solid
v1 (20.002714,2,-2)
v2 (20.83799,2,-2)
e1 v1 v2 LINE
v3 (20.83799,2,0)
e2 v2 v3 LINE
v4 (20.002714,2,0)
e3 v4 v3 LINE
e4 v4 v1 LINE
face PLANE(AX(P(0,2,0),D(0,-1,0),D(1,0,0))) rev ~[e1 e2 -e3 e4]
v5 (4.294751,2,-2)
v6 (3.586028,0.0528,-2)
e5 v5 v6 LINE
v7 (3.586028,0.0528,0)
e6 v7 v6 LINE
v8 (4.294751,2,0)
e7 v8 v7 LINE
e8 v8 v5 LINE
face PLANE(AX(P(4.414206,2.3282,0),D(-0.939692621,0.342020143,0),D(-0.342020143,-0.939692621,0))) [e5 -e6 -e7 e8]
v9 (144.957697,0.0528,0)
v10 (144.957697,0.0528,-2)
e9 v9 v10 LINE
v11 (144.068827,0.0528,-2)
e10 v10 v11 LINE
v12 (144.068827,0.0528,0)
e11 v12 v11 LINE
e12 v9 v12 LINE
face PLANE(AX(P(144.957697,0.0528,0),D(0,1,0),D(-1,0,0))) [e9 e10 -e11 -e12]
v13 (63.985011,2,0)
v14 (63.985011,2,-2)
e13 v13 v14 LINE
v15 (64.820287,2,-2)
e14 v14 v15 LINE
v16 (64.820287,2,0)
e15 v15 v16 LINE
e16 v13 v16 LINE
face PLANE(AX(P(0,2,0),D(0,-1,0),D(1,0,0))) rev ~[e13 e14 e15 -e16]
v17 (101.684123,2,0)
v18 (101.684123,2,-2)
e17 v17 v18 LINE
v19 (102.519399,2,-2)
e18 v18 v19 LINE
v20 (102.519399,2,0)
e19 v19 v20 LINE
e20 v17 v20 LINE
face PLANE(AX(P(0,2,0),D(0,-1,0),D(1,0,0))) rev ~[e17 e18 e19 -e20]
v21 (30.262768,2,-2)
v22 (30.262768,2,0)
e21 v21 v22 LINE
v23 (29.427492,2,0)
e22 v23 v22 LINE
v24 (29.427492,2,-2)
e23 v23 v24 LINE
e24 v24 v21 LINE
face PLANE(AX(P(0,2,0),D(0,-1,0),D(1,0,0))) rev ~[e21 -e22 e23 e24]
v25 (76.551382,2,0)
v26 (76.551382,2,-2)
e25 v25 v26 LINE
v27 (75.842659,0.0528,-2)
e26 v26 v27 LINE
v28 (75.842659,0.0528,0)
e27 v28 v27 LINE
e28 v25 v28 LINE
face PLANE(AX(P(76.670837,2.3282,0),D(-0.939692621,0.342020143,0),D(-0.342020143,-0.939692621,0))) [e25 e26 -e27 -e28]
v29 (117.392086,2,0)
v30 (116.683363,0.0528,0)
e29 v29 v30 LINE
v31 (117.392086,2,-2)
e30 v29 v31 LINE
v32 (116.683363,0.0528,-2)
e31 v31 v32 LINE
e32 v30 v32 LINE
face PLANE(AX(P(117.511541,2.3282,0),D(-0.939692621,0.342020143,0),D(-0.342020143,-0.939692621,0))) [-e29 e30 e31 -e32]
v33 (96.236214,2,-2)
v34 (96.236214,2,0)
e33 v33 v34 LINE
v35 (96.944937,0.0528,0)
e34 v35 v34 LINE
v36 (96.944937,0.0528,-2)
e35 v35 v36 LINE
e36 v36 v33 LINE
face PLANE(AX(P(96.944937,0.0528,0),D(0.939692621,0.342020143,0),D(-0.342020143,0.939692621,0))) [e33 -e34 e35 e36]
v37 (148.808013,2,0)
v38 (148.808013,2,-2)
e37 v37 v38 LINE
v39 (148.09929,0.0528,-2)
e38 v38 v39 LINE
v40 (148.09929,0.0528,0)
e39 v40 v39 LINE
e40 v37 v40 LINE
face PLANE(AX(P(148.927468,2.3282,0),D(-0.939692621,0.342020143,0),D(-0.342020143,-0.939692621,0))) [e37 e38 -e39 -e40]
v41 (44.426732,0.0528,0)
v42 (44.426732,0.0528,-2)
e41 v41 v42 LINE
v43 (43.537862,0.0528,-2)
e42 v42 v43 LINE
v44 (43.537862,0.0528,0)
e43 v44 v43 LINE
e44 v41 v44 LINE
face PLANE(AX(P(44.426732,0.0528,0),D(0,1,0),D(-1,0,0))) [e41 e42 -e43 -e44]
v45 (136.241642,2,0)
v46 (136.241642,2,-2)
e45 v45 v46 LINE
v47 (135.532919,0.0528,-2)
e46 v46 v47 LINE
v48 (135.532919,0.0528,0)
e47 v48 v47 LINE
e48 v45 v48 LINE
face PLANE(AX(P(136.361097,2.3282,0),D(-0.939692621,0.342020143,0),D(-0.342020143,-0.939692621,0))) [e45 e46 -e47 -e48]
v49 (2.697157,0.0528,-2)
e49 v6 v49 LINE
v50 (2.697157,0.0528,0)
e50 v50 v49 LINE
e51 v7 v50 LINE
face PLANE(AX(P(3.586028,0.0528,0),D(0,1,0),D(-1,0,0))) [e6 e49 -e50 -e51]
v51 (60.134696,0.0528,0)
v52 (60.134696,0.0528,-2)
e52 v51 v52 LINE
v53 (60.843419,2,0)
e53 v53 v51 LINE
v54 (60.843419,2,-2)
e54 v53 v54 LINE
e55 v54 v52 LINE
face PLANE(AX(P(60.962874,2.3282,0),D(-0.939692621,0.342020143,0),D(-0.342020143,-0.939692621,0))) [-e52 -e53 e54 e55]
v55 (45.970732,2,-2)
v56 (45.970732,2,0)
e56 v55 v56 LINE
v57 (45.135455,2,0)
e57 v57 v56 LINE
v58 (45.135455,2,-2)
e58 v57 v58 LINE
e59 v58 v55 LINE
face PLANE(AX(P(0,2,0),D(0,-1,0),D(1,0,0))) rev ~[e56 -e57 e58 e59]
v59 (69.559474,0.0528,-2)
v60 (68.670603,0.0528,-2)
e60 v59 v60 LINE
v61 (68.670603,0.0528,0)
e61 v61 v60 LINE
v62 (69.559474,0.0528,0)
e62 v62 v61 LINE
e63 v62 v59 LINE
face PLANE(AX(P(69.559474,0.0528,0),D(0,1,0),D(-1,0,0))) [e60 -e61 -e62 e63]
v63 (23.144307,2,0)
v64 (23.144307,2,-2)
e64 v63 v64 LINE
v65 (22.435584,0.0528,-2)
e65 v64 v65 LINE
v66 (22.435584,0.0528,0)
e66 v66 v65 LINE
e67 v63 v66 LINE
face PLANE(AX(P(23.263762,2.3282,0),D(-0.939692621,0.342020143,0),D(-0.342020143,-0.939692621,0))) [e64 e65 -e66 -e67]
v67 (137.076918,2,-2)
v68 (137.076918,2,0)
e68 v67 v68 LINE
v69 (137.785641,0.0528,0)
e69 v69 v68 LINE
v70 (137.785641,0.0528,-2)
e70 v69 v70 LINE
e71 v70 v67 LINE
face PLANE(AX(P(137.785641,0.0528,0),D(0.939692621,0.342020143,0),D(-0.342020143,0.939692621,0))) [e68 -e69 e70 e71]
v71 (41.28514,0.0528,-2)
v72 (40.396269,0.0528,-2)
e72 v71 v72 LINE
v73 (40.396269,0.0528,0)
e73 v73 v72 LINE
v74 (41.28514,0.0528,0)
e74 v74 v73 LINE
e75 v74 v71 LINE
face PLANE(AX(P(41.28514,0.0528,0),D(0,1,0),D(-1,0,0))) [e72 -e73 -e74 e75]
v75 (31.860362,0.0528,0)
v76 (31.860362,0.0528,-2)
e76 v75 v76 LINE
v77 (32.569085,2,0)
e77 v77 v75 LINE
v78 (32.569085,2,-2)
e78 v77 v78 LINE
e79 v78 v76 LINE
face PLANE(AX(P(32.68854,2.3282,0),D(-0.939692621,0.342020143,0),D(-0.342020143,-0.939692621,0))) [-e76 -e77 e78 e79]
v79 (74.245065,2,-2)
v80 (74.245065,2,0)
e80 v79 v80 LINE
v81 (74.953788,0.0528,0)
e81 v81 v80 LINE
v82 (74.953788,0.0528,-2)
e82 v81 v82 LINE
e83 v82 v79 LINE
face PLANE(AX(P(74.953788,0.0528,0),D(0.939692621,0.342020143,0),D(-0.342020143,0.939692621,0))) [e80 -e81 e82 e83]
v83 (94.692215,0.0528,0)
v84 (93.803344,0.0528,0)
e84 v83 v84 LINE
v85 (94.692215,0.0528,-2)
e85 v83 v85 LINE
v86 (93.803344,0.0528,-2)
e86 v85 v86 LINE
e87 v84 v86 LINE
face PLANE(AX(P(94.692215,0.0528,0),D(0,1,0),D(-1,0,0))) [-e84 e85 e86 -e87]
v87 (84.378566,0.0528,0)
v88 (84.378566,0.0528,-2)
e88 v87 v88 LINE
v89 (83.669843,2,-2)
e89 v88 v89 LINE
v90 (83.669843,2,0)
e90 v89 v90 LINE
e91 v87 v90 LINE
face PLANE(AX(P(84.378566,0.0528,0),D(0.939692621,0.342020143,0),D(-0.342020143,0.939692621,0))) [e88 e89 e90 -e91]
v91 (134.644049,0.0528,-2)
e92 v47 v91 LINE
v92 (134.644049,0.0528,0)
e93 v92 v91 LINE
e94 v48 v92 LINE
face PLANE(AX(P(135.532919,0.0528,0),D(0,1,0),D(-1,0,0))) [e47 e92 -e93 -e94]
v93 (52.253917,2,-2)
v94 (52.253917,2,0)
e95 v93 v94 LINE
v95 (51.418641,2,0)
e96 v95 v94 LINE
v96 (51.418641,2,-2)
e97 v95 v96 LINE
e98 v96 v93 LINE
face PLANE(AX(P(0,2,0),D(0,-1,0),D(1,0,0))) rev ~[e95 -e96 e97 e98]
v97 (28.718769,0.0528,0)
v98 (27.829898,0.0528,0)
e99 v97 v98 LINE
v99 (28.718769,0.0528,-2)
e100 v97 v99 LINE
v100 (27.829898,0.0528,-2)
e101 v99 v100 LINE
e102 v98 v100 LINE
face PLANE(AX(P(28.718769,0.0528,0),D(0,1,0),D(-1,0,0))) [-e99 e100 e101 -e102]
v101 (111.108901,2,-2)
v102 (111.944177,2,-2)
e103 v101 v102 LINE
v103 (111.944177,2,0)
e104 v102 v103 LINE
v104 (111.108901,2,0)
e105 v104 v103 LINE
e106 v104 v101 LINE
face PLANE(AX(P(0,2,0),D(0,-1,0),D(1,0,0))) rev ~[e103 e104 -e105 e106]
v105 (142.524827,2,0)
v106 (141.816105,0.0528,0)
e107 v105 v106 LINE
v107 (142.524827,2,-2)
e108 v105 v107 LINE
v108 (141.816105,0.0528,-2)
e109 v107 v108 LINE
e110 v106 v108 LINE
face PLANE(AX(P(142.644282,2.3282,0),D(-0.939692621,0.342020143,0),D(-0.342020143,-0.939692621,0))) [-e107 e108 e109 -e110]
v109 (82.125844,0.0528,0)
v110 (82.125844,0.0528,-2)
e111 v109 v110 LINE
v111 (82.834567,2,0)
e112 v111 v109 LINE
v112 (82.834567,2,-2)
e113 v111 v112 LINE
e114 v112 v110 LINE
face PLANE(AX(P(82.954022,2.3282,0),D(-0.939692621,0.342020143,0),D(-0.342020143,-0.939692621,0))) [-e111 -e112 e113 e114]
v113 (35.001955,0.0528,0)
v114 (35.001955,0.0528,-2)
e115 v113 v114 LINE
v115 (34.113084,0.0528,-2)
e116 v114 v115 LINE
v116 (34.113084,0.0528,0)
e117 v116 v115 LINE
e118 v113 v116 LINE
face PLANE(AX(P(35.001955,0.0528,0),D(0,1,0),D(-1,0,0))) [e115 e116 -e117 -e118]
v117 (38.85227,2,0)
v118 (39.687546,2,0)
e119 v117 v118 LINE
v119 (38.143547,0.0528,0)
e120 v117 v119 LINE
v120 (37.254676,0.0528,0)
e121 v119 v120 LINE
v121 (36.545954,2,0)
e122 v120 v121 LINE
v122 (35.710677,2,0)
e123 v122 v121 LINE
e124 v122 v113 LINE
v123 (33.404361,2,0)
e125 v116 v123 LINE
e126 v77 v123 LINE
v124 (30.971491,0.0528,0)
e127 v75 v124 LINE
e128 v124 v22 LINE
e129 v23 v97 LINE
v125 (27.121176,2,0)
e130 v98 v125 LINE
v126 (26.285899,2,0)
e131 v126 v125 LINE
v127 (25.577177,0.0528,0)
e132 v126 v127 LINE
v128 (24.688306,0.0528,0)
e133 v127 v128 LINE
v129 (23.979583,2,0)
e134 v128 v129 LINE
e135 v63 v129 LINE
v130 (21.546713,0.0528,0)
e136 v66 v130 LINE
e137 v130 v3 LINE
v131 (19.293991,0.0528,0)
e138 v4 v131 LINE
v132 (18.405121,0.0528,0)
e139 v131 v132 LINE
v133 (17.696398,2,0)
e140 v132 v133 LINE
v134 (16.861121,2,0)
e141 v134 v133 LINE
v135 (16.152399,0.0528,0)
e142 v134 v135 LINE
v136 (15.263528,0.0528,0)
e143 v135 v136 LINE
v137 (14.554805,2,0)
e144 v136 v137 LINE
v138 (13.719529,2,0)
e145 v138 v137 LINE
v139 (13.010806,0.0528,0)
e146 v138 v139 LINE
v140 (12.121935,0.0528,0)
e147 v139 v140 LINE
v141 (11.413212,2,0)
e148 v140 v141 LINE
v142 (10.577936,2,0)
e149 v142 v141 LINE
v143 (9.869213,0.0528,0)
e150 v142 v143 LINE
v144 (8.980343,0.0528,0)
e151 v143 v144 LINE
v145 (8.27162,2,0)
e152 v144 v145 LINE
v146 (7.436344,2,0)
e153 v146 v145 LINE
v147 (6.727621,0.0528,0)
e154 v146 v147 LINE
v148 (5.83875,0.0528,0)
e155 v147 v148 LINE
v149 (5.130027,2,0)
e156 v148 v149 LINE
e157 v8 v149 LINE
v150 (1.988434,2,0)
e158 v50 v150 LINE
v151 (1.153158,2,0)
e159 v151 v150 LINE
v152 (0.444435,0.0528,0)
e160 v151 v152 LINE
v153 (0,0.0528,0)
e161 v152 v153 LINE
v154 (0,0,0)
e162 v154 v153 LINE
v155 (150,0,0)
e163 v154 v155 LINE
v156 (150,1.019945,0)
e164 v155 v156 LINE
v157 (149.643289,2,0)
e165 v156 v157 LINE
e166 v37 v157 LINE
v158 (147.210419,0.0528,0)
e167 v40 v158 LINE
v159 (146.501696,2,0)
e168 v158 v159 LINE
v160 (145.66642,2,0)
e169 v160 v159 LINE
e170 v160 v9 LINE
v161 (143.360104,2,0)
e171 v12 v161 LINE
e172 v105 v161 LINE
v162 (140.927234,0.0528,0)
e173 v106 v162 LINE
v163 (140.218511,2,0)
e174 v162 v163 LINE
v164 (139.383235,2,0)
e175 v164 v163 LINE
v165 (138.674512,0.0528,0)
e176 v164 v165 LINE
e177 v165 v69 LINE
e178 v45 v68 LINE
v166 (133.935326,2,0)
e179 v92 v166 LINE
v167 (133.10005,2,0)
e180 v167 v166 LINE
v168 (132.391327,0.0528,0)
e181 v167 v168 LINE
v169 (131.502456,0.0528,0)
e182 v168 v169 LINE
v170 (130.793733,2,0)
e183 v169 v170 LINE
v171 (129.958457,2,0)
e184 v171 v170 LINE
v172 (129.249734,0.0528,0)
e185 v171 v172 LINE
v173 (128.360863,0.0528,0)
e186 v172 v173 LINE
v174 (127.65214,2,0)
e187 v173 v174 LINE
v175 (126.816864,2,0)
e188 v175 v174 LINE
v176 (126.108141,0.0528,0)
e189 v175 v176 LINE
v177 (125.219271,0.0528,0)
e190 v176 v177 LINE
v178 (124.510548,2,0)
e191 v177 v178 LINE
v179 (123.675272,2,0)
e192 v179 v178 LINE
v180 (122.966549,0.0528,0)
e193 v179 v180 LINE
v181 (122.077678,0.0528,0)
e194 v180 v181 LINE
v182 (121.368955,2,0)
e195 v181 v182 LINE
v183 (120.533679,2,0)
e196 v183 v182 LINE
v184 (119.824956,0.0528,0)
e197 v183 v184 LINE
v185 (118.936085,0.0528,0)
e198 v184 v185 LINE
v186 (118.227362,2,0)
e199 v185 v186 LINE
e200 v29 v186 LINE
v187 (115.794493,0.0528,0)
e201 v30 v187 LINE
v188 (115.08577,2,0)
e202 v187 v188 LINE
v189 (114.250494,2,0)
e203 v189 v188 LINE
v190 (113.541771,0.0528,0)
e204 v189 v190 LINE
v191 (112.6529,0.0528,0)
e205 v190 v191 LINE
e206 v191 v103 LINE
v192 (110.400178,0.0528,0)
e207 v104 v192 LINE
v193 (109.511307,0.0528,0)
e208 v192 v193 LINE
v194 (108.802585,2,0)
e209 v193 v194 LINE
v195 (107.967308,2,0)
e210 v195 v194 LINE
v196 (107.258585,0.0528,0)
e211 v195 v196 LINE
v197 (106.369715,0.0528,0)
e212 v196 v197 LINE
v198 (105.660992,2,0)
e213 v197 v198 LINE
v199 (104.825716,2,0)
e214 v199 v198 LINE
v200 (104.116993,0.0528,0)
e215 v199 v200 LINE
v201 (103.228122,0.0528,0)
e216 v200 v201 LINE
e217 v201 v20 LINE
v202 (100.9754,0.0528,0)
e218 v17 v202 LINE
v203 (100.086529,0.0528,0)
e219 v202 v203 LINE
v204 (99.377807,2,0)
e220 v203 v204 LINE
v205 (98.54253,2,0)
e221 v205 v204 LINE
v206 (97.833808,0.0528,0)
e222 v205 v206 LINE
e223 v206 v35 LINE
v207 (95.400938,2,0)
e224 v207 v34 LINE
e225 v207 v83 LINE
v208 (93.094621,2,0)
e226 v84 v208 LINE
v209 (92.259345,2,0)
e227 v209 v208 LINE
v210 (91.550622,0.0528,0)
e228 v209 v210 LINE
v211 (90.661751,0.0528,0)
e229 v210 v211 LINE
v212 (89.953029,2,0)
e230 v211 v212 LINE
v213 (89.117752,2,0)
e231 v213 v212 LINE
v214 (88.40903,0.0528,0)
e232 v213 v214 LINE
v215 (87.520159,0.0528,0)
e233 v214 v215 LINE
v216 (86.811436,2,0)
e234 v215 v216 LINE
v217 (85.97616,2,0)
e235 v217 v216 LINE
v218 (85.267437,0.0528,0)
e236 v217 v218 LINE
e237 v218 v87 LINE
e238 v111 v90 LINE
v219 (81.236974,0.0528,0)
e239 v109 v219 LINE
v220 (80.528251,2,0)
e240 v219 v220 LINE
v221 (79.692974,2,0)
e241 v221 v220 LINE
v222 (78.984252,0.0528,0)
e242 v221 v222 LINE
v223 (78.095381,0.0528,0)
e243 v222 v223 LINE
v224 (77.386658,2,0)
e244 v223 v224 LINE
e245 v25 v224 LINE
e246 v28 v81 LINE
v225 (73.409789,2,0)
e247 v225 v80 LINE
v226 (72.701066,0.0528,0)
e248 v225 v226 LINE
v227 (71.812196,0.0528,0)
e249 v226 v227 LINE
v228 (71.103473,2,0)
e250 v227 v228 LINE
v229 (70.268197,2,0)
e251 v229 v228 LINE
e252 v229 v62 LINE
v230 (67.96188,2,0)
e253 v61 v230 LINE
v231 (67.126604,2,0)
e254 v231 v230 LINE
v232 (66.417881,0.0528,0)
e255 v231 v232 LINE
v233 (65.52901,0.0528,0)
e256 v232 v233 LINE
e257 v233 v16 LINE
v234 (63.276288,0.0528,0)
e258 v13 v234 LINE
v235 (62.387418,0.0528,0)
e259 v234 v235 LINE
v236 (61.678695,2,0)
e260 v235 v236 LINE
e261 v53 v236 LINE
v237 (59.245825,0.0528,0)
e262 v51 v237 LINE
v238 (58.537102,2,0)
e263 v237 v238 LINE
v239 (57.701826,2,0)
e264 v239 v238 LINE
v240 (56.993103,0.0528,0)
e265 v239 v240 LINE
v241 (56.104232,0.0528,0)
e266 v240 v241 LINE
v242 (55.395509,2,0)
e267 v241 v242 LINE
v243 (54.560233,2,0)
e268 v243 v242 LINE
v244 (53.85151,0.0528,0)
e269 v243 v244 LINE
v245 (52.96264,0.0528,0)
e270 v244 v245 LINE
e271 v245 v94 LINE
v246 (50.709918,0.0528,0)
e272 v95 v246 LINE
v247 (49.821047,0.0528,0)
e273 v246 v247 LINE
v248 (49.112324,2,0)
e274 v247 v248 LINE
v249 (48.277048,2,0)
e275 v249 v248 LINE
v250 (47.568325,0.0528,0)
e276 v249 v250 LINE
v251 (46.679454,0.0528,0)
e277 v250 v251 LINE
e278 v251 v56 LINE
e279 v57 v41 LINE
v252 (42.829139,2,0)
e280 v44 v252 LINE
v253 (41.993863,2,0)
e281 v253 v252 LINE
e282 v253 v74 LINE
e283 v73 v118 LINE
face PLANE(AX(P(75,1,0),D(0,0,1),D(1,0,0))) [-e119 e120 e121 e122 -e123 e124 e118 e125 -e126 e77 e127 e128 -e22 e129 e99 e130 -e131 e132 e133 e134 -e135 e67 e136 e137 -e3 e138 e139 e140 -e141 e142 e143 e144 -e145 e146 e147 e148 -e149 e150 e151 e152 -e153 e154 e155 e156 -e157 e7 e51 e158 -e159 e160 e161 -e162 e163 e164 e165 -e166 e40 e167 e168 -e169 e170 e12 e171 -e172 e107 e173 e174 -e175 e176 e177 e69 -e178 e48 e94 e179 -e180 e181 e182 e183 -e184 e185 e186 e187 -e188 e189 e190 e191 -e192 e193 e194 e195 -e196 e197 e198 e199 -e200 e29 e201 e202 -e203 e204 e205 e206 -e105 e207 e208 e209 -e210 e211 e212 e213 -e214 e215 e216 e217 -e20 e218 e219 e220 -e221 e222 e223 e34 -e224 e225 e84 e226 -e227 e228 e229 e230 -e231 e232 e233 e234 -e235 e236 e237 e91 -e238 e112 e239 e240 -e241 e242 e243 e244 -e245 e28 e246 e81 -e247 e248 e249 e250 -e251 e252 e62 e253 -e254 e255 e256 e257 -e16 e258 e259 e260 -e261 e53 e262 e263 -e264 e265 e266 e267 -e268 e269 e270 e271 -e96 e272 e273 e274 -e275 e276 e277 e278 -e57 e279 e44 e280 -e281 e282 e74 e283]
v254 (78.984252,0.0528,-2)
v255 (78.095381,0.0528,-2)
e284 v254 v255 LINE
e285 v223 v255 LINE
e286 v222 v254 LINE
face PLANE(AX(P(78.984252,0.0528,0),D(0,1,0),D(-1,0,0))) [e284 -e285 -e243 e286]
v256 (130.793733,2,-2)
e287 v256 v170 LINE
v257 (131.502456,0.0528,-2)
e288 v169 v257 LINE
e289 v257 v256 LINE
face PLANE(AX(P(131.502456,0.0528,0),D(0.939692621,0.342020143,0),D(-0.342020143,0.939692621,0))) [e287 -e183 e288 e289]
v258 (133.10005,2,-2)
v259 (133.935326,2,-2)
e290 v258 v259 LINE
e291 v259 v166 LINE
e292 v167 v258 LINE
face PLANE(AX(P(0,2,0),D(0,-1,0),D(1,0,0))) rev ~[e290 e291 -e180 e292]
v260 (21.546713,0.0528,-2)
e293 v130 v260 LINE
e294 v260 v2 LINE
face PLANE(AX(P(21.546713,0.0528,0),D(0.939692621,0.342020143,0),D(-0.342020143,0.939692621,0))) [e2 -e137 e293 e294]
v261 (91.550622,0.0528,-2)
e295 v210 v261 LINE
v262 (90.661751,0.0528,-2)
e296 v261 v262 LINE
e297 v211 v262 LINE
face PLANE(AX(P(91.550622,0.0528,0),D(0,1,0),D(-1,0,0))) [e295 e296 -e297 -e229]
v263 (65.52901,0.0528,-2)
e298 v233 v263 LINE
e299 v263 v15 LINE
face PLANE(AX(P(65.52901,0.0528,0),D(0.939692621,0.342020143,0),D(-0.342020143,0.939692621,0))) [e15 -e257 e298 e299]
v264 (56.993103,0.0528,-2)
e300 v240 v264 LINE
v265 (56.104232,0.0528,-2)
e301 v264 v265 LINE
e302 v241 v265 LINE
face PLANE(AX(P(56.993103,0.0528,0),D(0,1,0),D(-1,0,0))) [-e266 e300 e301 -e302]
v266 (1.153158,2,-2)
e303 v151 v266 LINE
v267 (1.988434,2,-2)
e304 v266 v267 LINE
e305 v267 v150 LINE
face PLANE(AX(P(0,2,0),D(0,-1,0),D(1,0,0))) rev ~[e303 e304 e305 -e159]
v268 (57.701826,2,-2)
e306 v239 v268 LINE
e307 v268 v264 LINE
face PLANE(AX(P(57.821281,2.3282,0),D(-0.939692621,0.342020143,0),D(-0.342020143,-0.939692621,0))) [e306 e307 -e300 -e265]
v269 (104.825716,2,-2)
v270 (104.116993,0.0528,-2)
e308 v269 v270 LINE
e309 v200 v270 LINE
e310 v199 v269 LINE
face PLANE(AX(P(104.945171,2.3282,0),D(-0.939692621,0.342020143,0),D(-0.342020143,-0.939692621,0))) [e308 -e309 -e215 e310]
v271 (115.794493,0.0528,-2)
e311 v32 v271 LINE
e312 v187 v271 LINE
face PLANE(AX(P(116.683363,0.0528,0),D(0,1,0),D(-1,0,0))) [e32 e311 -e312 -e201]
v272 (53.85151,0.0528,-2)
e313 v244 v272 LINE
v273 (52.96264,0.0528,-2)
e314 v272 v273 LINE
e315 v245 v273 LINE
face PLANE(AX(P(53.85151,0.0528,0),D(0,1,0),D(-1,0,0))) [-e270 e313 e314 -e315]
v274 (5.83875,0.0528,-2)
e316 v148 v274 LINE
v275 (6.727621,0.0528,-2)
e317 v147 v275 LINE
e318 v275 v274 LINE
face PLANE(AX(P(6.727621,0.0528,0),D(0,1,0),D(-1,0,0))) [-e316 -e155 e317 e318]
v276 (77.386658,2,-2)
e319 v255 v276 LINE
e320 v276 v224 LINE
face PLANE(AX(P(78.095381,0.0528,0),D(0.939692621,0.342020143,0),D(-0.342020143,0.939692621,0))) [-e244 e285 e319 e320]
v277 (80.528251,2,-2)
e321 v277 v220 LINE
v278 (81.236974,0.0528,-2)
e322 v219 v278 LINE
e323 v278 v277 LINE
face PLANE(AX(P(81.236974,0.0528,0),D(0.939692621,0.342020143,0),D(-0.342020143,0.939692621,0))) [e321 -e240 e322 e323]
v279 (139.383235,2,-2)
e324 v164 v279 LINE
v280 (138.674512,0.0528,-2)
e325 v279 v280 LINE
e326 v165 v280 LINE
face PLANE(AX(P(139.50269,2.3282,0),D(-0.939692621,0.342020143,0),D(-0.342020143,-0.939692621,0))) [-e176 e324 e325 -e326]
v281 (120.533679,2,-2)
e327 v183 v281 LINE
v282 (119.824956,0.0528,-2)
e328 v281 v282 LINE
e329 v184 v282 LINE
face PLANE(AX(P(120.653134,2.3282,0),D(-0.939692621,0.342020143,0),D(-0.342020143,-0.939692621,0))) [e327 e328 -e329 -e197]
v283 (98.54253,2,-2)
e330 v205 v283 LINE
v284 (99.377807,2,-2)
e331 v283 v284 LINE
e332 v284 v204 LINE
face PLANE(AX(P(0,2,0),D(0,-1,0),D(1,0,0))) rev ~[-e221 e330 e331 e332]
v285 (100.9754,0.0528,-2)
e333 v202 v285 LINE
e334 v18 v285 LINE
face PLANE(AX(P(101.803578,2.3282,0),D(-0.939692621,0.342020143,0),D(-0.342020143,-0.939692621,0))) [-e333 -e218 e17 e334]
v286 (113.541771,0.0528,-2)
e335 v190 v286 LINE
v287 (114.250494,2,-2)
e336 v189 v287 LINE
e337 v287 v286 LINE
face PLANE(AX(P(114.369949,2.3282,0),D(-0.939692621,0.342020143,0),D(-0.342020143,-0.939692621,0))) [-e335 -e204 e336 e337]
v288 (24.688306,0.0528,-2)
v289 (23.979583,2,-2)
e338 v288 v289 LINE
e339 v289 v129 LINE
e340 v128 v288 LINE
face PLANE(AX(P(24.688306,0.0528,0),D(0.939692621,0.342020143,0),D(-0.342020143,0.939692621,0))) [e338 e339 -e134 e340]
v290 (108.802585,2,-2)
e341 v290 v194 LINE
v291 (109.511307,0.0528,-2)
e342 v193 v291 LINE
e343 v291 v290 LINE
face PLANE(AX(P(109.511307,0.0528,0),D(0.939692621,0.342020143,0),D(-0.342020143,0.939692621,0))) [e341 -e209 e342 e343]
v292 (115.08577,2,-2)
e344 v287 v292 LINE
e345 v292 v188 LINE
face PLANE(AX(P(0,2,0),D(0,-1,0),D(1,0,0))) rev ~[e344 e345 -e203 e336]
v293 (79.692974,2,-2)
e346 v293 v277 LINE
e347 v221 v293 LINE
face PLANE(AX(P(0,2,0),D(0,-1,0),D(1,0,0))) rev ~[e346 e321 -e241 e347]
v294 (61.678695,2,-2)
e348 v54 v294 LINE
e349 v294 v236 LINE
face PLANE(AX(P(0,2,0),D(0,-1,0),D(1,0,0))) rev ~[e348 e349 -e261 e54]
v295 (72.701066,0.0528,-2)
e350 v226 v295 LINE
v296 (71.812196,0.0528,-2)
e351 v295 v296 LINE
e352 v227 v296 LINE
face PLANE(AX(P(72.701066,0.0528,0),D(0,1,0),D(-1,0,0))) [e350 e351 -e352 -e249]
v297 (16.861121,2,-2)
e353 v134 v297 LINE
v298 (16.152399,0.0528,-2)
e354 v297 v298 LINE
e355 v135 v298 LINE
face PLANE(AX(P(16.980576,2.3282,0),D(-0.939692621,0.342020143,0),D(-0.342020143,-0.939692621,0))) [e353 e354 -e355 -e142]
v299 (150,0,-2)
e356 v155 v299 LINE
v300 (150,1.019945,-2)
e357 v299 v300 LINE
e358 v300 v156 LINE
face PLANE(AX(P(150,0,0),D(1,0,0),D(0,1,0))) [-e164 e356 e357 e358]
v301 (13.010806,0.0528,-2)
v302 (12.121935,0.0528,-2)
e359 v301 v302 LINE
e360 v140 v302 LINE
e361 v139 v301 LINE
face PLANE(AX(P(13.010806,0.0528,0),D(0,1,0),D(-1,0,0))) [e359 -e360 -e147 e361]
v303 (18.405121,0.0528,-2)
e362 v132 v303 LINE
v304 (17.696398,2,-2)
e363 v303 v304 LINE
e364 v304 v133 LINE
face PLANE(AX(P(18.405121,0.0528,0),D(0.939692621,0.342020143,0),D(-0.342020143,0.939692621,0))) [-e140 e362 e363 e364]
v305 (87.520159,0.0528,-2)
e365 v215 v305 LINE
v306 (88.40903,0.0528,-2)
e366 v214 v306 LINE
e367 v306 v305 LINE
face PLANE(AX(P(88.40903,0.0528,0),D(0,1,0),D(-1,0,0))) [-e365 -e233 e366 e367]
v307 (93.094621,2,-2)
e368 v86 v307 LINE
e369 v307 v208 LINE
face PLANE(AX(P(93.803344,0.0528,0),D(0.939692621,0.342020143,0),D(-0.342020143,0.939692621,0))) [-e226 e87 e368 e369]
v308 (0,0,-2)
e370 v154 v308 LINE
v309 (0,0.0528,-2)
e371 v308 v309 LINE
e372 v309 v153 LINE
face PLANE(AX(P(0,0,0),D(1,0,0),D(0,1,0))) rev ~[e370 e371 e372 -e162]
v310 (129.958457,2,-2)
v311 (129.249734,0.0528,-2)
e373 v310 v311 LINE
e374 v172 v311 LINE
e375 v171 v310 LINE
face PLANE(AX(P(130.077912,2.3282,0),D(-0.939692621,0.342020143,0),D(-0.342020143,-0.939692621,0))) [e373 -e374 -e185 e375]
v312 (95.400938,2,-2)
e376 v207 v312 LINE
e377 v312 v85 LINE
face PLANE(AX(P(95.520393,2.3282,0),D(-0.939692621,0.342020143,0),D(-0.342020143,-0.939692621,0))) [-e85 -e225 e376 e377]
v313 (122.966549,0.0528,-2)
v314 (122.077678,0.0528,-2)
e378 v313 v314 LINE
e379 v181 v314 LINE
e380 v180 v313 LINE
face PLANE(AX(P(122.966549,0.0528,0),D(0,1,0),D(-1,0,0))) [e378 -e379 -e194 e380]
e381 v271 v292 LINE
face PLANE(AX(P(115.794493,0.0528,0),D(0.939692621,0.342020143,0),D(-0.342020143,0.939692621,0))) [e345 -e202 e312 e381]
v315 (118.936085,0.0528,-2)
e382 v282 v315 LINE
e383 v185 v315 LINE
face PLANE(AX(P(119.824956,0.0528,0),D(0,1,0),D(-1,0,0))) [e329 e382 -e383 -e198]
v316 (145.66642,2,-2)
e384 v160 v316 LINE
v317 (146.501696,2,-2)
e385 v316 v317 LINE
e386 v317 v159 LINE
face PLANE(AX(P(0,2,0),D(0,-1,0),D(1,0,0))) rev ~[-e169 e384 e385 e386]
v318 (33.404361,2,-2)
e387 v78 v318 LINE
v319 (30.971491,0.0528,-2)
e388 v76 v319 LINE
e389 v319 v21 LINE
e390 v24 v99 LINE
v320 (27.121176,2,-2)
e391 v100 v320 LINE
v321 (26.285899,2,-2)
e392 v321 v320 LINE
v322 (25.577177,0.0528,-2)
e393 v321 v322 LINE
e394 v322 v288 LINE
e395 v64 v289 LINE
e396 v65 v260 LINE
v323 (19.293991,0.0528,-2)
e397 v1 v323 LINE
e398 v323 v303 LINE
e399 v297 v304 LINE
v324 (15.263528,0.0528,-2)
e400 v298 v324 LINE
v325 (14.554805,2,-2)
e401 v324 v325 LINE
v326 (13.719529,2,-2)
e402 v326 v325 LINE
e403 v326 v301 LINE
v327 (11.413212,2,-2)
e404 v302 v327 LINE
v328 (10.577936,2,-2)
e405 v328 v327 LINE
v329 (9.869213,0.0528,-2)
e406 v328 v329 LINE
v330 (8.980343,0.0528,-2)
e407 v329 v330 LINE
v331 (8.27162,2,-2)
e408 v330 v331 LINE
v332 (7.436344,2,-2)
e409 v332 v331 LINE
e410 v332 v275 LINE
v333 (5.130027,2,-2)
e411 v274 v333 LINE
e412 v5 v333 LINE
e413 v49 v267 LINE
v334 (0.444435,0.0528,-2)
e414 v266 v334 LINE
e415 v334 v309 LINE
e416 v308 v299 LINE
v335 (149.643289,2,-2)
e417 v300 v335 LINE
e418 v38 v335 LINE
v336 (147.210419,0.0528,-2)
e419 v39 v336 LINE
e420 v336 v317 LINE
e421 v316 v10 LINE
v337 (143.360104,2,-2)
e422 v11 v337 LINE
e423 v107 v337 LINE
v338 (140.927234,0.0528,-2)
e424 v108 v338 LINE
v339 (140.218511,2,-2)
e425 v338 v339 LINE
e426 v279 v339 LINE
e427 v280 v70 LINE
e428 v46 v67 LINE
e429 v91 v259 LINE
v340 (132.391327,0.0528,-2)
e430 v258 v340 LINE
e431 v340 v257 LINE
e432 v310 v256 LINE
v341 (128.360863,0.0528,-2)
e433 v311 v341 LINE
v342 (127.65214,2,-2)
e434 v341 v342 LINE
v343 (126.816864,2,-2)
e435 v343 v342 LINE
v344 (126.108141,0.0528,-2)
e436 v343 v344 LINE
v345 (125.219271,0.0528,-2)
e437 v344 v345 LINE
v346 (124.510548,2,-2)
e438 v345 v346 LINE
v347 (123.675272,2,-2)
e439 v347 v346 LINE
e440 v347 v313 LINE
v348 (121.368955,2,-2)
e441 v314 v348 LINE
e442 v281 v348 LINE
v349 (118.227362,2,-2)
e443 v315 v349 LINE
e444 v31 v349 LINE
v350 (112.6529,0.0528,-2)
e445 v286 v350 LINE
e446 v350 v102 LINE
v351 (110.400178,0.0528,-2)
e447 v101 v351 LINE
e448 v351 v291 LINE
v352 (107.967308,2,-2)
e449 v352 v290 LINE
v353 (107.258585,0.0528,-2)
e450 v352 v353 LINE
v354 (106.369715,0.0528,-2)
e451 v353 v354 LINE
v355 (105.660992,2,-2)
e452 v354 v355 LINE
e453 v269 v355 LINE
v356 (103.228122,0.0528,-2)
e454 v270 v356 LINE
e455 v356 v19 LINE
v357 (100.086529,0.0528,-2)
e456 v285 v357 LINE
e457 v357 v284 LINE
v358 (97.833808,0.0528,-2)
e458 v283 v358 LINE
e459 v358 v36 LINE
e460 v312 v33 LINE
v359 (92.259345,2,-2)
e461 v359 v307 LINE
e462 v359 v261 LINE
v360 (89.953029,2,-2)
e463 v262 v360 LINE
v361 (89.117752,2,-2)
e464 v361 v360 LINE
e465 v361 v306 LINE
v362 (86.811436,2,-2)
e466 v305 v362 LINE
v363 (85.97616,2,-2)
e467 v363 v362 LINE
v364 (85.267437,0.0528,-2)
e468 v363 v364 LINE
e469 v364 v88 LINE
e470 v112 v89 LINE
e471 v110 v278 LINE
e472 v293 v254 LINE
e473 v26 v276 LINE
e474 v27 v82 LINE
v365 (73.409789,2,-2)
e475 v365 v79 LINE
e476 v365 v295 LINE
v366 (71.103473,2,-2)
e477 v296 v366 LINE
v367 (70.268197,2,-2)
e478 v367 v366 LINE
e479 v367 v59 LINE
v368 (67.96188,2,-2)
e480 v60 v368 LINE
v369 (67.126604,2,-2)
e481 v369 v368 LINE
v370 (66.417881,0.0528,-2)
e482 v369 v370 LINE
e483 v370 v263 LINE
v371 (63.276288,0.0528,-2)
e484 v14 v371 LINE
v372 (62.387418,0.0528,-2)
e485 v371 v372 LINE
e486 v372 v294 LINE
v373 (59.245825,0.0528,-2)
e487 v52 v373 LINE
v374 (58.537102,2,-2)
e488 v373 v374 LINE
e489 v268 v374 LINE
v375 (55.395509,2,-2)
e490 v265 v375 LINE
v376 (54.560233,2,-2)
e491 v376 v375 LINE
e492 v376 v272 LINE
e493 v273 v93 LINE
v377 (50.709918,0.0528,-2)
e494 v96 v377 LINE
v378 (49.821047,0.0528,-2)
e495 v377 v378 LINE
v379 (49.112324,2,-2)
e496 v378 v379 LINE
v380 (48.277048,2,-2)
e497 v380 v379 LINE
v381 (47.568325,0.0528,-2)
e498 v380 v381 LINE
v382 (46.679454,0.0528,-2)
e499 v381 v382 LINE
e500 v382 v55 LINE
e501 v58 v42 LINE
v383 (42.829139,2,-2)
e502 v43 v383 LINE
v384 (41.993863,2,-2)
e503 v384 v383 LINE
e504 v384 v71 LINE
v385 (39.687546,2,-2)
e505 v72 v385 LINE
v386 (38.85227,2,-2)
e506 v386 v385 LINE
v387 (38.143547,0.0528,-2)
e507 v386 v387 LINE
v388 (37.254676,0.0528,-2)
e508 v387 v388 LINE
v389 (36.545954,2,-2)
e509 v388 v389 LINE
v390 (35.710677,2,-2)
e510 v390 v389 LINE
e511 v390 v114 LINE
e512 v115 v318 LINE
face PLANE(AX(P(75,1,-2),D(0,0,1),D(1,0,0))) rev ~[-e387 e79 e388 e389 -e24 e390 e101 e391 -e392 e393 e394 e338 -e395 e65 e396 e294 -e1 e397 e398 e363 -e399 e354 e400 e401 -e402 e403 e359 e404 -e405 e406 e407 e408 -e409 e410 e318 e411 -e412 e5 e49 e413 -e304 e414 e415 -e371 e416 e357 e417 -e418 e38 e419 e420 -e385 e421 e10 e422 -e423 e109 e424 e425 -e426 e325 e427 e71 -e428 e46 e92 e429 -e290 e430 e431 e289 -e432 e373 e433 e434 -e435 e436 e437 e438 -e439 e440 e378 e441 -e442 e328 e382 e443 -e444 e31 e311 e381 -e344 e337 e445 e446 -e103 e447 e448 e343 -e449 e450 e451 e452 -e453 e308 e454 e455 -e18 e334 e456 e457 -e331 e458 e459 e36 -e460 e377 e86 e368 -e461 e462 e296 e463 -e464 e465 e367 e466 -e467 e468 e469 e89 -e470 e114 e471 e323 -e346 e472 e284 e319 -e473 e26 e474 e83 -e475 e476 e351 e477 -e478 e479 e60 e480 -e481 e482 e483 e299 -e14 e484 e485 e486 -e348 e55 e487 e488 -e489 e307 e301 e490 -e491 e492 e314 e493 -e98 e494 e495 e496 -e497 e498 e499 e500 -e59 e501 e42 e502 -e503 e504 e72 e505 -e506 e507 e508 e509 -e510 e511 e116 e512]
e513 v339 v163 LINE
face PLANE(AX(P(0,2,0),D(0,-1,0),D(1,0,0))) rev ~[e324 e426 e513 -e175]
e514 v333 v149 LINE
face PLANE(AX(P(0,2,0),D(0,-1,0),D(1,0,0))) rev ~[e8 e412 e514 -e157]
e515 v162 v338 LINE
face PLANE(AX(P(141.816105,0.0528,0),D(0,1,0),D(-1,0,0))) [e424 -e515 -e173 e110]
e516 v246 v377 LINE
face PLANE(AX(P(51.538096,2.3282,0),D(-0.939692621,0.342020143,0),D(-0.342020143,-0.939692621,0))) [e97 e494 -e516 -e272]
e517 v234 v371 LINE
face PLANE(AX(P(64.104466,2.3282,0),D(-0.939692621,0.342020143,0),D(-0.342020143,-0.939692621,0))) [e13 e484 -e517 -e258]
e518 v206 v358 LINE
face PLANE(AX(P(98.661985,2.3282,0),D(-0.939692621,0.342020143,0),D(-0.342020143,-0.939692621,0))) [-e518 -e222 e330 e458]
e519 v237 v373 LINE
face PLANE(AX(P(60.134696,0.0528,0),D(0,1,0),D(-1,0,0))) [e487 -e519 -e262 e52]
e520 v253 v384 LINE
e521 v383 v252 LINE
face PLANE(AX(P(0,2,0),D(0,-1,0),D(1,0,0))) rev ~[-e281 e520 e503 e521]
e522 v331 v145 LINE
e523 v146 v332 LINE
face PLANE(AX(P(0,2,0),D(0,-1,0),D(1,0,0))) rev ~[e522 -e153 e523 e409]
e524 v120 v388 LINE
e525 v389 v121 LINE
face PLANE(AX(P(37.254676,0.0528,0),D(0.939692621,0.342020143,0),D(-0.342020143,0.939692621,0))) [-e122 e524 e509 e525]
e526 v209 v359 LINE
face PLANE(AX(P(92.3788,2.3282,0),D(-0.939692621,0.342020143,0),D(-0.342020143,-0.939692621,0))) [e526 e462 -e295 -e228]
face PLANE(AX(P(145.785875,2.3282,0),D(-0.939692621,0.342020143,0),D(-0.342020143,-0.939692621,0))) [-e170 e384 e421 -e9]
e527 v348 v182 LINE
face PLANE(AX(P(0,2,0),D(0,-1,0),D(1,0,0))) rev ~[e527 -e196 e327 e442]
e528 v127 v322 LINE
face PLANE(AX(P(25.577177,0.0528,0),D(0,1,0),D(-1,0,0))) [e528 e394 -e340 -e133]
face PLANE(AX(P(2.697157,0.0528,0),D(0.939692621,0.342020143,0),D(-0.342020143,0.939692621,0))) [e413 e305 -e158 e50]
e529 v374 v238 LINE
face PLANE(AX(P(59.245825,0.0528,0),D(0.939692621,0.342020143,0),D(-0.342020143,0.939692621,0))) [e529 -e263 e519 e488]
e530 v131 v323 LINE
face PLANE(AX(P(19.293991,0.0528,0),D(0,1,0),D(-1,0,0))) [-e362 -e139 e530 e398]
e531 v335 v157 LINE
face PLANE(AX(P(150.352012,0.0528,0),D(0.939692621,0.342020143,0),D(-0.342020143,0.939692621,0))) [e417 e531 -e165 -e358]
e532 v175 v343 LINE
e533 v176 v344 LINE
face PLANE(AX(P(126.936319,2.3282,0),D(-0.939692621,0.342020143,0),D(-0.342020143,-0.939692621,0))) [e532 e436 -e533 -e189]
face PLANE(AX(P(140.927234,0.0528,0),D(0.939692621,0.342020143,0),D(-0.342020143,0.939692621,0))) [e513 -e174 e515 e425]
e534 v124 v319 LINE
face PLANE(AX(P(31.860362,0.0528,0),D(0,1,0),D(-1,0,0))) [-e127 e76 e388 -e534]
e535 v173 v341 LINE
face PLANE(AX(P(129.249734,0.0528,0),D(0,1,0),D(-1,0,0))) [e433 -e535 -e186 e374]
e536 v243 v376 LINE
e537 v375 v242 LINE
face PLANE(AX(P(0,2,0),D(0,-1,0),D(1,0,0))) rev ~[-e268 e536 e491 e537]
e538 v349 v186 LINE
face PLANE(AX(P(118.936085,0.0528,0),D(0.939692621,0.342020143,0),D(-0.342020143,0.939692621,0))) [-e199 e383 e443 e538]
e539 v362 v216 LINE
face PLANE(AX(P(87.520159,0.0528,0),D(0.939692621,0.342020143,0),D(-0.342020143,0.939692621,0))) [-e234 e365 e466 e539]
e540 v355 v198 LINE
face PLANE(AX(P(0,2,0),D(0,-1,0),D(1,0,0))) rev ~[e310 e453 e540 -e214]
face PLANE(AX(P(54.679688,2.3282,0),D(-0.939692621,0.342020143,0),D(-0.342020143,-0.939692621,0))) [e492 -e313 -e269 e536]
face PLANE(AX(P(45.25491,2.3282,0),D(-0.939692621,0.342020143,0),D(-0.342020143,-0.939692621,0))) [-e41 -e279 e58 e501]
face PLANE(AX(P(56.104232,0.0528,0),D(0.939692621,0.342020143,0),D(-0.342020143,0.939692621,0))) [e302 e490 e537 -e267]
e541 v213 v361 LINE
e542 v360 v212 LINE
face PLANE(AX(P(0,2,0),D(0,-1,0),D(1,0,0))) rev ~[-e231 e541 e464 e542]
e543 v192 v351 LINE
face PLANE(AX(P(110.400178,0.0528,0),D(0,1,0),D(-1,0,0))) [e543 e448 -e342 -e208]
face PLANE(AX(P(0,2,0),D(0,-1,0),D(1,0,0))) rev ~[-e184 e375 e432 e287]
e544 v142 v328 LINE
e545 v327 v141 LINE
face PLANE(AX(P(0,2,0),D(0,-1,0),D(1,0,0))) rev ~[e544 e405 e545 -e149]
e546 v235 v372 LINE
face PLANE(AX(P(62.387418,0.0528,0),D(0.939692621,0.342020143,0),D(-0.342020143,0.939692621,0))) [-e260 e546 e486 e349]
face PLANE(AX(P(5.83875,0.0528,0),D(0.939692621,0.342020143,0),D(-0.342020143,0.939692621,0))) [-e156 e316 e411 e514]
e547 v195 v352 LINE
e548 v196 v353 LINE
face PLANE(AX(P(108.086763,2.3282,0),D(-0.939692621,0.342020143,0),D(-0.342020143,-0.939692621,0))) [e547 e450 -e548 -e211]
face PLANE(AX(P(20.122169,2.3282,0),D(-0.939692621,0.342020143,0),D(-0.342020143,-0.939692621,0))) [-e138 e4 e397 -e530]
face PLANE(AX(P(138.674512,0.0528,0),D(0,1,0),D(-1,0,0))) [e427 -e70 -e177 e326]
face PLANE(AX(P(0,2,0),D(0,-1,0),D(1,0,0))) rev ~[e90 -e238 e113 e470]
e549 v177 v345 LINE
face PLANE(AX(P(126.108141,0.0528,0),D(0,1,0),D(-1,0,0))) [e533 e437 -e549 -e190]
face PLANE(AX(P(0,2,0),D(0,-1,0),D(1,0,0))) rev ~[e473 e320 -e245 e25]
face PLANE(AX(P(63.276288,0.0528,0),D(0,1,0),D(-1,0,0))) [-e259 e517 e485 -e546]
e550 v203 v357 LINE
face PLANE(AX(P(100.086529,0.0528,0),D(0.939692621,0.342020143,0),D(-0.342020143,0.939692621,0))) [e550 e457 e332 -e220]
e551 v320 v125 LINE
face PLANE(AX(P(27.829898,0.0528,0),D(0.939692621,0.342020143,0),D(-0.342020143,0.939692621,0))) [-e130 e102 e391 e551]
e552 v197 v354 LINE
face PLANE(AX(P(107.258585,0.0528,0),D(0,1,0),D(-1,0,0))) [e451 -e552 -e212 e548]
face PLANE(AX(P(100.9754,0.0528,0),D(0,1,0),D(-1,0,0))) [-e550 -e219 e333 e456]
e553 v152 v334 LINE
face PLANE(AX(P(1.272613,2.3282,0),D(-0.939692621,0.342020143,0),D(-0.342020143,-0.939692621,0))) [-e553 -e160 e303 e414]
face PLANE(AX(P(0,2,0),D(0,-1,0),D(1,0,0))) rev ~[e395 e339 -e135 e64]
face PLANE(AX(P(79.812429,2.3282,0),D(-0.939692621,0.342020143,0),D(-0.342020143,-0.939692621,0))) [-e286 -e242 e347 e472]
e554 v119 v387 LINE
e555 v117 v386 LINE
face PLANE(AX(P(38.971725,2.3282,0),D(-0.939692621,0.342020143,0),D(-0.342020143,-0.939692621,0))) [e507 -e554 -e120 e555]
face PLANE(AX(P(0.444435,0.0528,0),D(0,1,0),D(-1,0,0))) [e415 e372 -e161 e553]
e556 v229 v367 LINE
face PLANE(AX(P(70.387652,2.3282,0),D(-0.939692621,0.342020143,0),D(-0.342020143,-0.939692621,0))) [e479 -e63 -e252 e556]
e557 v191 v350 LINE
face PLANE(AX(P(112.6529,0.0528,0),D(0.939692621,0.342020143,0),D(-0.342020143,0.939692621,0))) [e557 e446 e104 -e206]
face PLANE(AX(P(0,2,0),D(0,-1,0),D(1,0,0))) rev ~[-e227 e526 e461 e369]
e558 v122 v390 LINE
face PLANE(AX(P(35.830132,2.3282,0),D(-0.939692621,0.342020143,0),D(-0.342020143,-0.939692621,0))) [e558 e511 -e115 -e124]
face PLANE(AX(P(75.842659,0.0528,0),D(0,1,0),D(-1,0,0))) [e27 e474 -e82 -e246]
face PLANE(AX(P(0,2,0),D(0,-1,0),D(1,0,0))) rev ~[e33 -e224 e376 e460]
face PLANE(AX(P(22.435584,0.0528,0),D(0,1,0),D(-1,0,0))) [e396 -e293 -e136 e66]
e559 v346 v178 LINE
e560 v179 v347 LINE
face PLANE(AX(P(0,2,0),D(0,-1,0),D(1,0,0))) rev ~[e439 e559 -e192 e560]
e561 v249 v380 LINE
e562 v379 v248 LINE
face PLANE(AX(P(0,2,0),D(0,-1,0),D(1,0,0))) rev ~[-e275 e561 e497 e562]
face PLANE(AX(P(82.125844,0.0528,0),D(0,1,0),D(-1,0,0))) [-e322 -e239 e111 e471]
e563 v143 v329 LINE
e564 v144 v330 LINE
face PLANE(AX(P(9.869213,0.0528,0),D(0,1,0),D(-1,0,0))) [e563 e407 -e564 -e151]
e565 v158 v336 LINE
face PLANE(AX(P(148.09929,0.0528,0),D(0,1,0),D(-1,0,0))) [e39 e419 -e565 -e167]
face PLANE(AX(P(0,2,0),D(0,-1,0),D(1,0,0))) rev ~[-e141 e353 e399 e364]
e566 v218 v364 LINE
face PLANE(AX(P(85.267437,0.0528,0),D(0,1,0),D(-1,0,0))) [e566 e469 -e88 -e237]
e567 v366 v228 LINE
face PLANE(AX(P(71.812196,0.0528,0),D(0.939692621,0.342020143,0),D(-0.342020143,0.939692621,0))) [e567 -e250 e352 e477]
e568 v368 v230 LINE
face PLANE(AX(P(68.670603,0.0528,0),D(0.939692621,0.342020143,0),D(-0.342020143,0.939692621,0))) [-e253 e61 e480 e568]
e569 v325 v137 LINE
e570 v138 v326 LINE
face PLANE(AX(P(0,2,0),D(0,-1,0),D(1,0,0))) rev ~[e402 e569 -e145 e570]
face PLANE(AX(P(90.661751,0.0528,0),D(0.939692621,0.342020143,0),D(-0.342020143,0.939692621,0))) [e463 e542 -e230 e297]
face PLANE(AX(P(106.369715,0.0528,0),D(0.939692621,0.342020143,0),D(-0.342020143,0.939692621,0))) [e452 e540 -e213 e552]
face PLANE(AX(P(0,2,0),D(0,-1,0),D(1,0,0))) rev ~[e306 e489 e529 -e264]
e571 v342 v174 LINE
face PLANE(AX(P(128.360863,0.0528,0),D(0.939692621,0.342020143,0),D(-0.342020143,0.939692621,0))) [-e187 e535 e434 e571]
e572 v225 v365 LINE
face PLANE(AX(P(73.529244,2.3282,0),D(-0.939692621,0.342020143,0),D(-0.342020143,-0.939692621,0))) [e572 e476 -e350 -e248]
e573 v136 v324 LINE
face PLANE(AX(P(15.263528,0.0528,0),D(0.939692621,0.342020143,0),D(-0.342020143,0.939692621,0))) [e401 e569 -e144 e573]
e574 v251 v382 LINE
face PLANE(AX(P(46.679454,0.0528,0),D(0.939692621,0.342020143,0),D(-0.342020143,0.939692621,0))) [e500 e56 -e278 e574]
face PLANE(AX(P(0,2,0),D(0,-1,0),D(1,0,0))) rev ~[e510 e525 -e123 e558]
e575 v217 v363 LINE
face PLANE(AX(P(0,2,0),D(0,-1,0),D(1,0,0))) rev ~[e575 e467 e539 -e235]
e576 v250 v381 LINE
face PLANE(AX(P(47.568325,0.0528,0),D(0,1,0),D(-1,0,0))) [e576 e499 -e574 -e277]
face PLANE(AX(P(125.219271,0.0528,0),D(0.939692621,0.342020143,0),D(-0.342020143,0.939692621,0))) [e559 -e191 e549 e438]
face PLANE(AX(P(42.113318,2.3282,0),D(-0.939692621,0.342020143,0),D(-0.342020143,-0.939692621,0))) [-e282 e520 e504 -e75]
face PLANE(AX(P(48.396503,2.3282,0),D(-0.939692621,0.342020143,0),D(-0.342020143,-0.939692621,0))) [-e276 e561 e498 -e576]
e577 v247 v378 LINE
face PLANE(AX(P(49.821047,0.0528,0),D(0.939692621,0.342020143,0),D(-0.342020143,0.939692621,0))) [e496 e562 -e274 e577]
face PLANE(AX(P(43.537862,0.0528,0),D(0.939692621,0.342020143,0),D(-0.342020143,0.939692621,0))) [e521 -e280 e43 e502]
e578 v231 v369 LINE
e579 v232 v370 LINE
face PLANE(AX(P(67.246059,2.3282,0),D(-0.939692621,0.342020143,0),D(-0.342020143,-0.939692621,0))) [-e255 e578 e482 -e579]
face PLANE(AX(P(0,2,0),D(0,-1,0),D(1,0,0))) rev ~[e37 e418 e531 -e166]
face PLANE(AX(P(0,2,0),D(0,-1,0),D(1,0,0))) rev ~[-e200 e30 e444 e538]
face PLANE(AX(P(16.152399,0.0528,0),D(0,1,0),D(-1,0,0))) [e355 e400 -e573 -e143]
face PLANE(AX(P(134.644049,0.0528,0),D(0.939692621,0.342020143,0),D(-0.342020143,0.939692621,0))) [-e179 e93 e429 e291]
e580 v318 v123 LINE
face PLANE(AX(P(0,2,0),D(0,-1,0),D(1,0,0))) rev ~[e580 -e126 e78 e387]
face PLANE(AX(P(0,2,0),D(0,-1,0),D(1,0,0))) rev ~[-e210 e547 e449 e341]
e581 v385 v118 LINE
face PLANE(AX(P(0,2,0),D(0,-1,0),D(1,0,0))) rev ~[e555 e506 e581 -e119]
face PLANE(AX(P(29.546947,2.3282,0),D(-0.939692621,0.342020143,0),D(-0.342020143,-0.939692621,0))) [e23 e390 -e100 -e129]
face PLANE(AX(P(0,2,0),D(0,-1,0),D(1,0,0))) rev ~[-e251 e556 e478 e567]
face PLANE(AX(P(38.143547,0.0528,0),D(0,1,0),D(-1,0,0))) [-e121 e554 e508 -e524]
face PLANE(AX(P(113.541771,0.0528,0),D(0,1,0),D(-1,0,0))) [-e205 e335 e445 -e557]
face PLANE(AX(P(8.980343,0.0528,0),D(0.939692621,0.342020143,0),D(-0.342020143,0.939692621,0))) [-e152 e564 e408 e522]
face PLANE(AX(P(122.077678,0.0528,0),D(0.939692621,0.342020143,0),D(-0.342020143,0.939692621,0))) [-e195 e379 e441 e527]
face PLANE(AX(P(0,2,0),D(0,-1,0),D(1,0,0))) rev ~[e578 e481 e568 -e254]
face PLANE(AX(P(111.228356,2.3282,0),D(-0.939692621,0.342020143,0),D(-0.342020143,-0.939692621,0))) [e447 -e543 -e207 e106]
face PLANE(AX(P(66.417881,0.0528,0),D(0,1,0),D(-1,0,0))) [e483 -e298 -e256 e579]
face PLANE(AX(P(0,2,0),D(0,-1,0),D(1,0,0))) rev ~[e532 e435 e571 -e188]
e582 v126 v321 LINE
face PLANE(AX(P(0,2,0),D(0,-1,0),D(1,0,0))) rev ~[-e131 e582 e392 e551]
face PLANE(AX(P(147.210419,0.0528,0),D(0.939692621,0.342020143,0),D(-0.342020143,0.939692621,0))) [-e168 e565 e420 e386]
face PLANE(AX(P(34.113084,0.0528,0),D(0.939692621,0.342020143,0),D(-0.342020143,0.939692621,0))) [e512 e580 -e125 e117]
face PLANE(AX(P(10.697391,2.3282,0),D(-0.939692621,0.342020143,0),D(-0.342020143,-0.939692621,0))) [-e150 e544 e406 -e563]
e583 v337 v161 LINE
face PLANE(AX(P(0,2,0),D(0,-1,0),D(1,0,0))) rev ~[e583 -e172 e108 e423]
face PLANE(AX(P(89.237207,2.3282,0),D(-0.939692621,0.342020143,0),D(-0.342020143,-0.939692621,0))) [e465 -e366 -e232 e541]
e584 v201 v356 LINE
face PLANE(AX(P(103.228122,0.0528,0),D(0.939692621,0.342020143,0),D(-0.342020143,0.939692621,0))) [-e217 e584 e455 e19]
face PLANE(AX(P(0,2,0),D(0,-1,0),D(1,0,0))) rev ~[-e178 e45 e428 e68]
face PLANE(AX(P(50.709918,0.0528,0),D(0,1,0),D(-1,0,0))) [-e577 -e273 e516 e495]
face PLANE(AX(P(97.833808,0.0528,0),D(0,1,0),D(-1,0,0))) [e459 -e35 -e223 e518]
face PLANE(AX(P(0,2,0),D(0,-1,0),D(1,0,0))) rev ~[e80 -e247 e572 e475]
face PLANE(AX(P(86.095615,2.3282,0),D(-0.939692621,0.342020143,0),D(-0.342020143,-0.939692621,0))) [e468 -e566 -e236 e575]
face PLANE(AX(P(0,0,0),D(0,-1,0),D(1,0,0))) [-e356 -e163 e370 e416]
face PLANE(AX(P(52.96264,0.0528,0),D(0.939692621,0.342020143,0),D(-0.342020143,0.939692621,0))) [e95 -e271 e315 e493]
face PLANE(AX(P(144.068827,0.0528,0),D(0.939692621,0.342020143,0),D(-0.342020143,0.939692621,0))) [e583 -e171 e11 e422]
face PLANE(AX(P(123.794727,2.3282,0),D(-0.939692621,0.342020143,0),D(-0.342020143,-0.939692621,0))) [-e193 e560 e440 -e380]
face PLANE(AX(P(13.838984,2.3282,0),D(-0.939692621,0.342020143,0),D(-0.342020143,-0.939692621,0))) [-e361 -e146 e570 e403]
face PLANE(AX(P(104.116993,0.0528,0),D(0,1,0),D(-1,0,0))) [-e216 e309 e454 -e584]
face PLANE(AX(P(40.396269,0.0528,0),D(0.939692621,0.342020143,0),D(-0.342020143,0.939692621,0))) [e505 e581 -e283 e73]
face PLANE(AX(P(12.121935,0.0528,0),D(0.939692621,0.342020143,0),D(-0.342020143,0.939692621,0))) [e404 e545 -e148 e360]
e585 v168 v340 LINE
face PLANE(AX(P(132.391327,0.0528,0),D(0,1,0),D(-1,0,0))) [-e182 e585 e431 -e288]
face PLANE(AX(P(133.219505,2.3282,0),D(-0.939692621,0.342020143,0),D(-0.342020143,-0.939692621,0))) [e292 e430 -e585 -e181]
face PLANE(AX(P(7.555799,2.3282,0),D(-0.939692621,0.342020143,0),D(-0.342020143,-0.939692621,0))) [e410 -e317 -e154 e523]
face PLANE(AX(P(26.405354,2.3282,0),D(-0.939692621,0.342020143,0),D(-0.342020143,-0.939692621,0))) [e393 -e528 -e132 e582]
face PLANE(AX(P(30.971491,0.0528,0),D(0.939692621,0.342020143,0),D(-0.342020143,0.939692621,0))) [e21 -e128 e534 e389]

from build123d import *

# Parameters (mm, degrees)
BLANKSKE_W        = 150
BLANKSKE_H        = 2
BLANK_DEPTH       = 2
TOOTHCUTSIM_DEPTH = 151.026664297
TEETHCUTS_COUNT   = 49
TEETHCUTS_PITCH   = 3.14159265


with BuildPart() as part:
    # BlankSke → Blank (new body)
    with BuildSketch(Plane.XY):
        with Locations((75, 1)):
            Rectangle(BLANKSKE_W, BLANKSKE_H)
    extrude(amount=-BLANK_DEPTH)

    # TooCutSkeSim → ToothCutSim (cut, through all)
    with BuildSketch(Plane.XY):
        Polygon((0.44443537, 0.0528), (-0.44443537, 0.0528), (-1.272613241, 2.3282), (1.272613241, 2.3282), align=None)
    toothcutsim = extrude(amount=-TOOTHCUTSIM_DEPTH, mode=Mode.SUBTRACT)

    # TeethCuts: ToothCutSim ×49
    with Locations(*[(i * TEETHCUTS_PITCH, 0, 0) for i in range(1, TEETHCUTS_COUNT)]):
        add(toothcutsim, mode=Mode.SUBTRACT)


solid = part.part
